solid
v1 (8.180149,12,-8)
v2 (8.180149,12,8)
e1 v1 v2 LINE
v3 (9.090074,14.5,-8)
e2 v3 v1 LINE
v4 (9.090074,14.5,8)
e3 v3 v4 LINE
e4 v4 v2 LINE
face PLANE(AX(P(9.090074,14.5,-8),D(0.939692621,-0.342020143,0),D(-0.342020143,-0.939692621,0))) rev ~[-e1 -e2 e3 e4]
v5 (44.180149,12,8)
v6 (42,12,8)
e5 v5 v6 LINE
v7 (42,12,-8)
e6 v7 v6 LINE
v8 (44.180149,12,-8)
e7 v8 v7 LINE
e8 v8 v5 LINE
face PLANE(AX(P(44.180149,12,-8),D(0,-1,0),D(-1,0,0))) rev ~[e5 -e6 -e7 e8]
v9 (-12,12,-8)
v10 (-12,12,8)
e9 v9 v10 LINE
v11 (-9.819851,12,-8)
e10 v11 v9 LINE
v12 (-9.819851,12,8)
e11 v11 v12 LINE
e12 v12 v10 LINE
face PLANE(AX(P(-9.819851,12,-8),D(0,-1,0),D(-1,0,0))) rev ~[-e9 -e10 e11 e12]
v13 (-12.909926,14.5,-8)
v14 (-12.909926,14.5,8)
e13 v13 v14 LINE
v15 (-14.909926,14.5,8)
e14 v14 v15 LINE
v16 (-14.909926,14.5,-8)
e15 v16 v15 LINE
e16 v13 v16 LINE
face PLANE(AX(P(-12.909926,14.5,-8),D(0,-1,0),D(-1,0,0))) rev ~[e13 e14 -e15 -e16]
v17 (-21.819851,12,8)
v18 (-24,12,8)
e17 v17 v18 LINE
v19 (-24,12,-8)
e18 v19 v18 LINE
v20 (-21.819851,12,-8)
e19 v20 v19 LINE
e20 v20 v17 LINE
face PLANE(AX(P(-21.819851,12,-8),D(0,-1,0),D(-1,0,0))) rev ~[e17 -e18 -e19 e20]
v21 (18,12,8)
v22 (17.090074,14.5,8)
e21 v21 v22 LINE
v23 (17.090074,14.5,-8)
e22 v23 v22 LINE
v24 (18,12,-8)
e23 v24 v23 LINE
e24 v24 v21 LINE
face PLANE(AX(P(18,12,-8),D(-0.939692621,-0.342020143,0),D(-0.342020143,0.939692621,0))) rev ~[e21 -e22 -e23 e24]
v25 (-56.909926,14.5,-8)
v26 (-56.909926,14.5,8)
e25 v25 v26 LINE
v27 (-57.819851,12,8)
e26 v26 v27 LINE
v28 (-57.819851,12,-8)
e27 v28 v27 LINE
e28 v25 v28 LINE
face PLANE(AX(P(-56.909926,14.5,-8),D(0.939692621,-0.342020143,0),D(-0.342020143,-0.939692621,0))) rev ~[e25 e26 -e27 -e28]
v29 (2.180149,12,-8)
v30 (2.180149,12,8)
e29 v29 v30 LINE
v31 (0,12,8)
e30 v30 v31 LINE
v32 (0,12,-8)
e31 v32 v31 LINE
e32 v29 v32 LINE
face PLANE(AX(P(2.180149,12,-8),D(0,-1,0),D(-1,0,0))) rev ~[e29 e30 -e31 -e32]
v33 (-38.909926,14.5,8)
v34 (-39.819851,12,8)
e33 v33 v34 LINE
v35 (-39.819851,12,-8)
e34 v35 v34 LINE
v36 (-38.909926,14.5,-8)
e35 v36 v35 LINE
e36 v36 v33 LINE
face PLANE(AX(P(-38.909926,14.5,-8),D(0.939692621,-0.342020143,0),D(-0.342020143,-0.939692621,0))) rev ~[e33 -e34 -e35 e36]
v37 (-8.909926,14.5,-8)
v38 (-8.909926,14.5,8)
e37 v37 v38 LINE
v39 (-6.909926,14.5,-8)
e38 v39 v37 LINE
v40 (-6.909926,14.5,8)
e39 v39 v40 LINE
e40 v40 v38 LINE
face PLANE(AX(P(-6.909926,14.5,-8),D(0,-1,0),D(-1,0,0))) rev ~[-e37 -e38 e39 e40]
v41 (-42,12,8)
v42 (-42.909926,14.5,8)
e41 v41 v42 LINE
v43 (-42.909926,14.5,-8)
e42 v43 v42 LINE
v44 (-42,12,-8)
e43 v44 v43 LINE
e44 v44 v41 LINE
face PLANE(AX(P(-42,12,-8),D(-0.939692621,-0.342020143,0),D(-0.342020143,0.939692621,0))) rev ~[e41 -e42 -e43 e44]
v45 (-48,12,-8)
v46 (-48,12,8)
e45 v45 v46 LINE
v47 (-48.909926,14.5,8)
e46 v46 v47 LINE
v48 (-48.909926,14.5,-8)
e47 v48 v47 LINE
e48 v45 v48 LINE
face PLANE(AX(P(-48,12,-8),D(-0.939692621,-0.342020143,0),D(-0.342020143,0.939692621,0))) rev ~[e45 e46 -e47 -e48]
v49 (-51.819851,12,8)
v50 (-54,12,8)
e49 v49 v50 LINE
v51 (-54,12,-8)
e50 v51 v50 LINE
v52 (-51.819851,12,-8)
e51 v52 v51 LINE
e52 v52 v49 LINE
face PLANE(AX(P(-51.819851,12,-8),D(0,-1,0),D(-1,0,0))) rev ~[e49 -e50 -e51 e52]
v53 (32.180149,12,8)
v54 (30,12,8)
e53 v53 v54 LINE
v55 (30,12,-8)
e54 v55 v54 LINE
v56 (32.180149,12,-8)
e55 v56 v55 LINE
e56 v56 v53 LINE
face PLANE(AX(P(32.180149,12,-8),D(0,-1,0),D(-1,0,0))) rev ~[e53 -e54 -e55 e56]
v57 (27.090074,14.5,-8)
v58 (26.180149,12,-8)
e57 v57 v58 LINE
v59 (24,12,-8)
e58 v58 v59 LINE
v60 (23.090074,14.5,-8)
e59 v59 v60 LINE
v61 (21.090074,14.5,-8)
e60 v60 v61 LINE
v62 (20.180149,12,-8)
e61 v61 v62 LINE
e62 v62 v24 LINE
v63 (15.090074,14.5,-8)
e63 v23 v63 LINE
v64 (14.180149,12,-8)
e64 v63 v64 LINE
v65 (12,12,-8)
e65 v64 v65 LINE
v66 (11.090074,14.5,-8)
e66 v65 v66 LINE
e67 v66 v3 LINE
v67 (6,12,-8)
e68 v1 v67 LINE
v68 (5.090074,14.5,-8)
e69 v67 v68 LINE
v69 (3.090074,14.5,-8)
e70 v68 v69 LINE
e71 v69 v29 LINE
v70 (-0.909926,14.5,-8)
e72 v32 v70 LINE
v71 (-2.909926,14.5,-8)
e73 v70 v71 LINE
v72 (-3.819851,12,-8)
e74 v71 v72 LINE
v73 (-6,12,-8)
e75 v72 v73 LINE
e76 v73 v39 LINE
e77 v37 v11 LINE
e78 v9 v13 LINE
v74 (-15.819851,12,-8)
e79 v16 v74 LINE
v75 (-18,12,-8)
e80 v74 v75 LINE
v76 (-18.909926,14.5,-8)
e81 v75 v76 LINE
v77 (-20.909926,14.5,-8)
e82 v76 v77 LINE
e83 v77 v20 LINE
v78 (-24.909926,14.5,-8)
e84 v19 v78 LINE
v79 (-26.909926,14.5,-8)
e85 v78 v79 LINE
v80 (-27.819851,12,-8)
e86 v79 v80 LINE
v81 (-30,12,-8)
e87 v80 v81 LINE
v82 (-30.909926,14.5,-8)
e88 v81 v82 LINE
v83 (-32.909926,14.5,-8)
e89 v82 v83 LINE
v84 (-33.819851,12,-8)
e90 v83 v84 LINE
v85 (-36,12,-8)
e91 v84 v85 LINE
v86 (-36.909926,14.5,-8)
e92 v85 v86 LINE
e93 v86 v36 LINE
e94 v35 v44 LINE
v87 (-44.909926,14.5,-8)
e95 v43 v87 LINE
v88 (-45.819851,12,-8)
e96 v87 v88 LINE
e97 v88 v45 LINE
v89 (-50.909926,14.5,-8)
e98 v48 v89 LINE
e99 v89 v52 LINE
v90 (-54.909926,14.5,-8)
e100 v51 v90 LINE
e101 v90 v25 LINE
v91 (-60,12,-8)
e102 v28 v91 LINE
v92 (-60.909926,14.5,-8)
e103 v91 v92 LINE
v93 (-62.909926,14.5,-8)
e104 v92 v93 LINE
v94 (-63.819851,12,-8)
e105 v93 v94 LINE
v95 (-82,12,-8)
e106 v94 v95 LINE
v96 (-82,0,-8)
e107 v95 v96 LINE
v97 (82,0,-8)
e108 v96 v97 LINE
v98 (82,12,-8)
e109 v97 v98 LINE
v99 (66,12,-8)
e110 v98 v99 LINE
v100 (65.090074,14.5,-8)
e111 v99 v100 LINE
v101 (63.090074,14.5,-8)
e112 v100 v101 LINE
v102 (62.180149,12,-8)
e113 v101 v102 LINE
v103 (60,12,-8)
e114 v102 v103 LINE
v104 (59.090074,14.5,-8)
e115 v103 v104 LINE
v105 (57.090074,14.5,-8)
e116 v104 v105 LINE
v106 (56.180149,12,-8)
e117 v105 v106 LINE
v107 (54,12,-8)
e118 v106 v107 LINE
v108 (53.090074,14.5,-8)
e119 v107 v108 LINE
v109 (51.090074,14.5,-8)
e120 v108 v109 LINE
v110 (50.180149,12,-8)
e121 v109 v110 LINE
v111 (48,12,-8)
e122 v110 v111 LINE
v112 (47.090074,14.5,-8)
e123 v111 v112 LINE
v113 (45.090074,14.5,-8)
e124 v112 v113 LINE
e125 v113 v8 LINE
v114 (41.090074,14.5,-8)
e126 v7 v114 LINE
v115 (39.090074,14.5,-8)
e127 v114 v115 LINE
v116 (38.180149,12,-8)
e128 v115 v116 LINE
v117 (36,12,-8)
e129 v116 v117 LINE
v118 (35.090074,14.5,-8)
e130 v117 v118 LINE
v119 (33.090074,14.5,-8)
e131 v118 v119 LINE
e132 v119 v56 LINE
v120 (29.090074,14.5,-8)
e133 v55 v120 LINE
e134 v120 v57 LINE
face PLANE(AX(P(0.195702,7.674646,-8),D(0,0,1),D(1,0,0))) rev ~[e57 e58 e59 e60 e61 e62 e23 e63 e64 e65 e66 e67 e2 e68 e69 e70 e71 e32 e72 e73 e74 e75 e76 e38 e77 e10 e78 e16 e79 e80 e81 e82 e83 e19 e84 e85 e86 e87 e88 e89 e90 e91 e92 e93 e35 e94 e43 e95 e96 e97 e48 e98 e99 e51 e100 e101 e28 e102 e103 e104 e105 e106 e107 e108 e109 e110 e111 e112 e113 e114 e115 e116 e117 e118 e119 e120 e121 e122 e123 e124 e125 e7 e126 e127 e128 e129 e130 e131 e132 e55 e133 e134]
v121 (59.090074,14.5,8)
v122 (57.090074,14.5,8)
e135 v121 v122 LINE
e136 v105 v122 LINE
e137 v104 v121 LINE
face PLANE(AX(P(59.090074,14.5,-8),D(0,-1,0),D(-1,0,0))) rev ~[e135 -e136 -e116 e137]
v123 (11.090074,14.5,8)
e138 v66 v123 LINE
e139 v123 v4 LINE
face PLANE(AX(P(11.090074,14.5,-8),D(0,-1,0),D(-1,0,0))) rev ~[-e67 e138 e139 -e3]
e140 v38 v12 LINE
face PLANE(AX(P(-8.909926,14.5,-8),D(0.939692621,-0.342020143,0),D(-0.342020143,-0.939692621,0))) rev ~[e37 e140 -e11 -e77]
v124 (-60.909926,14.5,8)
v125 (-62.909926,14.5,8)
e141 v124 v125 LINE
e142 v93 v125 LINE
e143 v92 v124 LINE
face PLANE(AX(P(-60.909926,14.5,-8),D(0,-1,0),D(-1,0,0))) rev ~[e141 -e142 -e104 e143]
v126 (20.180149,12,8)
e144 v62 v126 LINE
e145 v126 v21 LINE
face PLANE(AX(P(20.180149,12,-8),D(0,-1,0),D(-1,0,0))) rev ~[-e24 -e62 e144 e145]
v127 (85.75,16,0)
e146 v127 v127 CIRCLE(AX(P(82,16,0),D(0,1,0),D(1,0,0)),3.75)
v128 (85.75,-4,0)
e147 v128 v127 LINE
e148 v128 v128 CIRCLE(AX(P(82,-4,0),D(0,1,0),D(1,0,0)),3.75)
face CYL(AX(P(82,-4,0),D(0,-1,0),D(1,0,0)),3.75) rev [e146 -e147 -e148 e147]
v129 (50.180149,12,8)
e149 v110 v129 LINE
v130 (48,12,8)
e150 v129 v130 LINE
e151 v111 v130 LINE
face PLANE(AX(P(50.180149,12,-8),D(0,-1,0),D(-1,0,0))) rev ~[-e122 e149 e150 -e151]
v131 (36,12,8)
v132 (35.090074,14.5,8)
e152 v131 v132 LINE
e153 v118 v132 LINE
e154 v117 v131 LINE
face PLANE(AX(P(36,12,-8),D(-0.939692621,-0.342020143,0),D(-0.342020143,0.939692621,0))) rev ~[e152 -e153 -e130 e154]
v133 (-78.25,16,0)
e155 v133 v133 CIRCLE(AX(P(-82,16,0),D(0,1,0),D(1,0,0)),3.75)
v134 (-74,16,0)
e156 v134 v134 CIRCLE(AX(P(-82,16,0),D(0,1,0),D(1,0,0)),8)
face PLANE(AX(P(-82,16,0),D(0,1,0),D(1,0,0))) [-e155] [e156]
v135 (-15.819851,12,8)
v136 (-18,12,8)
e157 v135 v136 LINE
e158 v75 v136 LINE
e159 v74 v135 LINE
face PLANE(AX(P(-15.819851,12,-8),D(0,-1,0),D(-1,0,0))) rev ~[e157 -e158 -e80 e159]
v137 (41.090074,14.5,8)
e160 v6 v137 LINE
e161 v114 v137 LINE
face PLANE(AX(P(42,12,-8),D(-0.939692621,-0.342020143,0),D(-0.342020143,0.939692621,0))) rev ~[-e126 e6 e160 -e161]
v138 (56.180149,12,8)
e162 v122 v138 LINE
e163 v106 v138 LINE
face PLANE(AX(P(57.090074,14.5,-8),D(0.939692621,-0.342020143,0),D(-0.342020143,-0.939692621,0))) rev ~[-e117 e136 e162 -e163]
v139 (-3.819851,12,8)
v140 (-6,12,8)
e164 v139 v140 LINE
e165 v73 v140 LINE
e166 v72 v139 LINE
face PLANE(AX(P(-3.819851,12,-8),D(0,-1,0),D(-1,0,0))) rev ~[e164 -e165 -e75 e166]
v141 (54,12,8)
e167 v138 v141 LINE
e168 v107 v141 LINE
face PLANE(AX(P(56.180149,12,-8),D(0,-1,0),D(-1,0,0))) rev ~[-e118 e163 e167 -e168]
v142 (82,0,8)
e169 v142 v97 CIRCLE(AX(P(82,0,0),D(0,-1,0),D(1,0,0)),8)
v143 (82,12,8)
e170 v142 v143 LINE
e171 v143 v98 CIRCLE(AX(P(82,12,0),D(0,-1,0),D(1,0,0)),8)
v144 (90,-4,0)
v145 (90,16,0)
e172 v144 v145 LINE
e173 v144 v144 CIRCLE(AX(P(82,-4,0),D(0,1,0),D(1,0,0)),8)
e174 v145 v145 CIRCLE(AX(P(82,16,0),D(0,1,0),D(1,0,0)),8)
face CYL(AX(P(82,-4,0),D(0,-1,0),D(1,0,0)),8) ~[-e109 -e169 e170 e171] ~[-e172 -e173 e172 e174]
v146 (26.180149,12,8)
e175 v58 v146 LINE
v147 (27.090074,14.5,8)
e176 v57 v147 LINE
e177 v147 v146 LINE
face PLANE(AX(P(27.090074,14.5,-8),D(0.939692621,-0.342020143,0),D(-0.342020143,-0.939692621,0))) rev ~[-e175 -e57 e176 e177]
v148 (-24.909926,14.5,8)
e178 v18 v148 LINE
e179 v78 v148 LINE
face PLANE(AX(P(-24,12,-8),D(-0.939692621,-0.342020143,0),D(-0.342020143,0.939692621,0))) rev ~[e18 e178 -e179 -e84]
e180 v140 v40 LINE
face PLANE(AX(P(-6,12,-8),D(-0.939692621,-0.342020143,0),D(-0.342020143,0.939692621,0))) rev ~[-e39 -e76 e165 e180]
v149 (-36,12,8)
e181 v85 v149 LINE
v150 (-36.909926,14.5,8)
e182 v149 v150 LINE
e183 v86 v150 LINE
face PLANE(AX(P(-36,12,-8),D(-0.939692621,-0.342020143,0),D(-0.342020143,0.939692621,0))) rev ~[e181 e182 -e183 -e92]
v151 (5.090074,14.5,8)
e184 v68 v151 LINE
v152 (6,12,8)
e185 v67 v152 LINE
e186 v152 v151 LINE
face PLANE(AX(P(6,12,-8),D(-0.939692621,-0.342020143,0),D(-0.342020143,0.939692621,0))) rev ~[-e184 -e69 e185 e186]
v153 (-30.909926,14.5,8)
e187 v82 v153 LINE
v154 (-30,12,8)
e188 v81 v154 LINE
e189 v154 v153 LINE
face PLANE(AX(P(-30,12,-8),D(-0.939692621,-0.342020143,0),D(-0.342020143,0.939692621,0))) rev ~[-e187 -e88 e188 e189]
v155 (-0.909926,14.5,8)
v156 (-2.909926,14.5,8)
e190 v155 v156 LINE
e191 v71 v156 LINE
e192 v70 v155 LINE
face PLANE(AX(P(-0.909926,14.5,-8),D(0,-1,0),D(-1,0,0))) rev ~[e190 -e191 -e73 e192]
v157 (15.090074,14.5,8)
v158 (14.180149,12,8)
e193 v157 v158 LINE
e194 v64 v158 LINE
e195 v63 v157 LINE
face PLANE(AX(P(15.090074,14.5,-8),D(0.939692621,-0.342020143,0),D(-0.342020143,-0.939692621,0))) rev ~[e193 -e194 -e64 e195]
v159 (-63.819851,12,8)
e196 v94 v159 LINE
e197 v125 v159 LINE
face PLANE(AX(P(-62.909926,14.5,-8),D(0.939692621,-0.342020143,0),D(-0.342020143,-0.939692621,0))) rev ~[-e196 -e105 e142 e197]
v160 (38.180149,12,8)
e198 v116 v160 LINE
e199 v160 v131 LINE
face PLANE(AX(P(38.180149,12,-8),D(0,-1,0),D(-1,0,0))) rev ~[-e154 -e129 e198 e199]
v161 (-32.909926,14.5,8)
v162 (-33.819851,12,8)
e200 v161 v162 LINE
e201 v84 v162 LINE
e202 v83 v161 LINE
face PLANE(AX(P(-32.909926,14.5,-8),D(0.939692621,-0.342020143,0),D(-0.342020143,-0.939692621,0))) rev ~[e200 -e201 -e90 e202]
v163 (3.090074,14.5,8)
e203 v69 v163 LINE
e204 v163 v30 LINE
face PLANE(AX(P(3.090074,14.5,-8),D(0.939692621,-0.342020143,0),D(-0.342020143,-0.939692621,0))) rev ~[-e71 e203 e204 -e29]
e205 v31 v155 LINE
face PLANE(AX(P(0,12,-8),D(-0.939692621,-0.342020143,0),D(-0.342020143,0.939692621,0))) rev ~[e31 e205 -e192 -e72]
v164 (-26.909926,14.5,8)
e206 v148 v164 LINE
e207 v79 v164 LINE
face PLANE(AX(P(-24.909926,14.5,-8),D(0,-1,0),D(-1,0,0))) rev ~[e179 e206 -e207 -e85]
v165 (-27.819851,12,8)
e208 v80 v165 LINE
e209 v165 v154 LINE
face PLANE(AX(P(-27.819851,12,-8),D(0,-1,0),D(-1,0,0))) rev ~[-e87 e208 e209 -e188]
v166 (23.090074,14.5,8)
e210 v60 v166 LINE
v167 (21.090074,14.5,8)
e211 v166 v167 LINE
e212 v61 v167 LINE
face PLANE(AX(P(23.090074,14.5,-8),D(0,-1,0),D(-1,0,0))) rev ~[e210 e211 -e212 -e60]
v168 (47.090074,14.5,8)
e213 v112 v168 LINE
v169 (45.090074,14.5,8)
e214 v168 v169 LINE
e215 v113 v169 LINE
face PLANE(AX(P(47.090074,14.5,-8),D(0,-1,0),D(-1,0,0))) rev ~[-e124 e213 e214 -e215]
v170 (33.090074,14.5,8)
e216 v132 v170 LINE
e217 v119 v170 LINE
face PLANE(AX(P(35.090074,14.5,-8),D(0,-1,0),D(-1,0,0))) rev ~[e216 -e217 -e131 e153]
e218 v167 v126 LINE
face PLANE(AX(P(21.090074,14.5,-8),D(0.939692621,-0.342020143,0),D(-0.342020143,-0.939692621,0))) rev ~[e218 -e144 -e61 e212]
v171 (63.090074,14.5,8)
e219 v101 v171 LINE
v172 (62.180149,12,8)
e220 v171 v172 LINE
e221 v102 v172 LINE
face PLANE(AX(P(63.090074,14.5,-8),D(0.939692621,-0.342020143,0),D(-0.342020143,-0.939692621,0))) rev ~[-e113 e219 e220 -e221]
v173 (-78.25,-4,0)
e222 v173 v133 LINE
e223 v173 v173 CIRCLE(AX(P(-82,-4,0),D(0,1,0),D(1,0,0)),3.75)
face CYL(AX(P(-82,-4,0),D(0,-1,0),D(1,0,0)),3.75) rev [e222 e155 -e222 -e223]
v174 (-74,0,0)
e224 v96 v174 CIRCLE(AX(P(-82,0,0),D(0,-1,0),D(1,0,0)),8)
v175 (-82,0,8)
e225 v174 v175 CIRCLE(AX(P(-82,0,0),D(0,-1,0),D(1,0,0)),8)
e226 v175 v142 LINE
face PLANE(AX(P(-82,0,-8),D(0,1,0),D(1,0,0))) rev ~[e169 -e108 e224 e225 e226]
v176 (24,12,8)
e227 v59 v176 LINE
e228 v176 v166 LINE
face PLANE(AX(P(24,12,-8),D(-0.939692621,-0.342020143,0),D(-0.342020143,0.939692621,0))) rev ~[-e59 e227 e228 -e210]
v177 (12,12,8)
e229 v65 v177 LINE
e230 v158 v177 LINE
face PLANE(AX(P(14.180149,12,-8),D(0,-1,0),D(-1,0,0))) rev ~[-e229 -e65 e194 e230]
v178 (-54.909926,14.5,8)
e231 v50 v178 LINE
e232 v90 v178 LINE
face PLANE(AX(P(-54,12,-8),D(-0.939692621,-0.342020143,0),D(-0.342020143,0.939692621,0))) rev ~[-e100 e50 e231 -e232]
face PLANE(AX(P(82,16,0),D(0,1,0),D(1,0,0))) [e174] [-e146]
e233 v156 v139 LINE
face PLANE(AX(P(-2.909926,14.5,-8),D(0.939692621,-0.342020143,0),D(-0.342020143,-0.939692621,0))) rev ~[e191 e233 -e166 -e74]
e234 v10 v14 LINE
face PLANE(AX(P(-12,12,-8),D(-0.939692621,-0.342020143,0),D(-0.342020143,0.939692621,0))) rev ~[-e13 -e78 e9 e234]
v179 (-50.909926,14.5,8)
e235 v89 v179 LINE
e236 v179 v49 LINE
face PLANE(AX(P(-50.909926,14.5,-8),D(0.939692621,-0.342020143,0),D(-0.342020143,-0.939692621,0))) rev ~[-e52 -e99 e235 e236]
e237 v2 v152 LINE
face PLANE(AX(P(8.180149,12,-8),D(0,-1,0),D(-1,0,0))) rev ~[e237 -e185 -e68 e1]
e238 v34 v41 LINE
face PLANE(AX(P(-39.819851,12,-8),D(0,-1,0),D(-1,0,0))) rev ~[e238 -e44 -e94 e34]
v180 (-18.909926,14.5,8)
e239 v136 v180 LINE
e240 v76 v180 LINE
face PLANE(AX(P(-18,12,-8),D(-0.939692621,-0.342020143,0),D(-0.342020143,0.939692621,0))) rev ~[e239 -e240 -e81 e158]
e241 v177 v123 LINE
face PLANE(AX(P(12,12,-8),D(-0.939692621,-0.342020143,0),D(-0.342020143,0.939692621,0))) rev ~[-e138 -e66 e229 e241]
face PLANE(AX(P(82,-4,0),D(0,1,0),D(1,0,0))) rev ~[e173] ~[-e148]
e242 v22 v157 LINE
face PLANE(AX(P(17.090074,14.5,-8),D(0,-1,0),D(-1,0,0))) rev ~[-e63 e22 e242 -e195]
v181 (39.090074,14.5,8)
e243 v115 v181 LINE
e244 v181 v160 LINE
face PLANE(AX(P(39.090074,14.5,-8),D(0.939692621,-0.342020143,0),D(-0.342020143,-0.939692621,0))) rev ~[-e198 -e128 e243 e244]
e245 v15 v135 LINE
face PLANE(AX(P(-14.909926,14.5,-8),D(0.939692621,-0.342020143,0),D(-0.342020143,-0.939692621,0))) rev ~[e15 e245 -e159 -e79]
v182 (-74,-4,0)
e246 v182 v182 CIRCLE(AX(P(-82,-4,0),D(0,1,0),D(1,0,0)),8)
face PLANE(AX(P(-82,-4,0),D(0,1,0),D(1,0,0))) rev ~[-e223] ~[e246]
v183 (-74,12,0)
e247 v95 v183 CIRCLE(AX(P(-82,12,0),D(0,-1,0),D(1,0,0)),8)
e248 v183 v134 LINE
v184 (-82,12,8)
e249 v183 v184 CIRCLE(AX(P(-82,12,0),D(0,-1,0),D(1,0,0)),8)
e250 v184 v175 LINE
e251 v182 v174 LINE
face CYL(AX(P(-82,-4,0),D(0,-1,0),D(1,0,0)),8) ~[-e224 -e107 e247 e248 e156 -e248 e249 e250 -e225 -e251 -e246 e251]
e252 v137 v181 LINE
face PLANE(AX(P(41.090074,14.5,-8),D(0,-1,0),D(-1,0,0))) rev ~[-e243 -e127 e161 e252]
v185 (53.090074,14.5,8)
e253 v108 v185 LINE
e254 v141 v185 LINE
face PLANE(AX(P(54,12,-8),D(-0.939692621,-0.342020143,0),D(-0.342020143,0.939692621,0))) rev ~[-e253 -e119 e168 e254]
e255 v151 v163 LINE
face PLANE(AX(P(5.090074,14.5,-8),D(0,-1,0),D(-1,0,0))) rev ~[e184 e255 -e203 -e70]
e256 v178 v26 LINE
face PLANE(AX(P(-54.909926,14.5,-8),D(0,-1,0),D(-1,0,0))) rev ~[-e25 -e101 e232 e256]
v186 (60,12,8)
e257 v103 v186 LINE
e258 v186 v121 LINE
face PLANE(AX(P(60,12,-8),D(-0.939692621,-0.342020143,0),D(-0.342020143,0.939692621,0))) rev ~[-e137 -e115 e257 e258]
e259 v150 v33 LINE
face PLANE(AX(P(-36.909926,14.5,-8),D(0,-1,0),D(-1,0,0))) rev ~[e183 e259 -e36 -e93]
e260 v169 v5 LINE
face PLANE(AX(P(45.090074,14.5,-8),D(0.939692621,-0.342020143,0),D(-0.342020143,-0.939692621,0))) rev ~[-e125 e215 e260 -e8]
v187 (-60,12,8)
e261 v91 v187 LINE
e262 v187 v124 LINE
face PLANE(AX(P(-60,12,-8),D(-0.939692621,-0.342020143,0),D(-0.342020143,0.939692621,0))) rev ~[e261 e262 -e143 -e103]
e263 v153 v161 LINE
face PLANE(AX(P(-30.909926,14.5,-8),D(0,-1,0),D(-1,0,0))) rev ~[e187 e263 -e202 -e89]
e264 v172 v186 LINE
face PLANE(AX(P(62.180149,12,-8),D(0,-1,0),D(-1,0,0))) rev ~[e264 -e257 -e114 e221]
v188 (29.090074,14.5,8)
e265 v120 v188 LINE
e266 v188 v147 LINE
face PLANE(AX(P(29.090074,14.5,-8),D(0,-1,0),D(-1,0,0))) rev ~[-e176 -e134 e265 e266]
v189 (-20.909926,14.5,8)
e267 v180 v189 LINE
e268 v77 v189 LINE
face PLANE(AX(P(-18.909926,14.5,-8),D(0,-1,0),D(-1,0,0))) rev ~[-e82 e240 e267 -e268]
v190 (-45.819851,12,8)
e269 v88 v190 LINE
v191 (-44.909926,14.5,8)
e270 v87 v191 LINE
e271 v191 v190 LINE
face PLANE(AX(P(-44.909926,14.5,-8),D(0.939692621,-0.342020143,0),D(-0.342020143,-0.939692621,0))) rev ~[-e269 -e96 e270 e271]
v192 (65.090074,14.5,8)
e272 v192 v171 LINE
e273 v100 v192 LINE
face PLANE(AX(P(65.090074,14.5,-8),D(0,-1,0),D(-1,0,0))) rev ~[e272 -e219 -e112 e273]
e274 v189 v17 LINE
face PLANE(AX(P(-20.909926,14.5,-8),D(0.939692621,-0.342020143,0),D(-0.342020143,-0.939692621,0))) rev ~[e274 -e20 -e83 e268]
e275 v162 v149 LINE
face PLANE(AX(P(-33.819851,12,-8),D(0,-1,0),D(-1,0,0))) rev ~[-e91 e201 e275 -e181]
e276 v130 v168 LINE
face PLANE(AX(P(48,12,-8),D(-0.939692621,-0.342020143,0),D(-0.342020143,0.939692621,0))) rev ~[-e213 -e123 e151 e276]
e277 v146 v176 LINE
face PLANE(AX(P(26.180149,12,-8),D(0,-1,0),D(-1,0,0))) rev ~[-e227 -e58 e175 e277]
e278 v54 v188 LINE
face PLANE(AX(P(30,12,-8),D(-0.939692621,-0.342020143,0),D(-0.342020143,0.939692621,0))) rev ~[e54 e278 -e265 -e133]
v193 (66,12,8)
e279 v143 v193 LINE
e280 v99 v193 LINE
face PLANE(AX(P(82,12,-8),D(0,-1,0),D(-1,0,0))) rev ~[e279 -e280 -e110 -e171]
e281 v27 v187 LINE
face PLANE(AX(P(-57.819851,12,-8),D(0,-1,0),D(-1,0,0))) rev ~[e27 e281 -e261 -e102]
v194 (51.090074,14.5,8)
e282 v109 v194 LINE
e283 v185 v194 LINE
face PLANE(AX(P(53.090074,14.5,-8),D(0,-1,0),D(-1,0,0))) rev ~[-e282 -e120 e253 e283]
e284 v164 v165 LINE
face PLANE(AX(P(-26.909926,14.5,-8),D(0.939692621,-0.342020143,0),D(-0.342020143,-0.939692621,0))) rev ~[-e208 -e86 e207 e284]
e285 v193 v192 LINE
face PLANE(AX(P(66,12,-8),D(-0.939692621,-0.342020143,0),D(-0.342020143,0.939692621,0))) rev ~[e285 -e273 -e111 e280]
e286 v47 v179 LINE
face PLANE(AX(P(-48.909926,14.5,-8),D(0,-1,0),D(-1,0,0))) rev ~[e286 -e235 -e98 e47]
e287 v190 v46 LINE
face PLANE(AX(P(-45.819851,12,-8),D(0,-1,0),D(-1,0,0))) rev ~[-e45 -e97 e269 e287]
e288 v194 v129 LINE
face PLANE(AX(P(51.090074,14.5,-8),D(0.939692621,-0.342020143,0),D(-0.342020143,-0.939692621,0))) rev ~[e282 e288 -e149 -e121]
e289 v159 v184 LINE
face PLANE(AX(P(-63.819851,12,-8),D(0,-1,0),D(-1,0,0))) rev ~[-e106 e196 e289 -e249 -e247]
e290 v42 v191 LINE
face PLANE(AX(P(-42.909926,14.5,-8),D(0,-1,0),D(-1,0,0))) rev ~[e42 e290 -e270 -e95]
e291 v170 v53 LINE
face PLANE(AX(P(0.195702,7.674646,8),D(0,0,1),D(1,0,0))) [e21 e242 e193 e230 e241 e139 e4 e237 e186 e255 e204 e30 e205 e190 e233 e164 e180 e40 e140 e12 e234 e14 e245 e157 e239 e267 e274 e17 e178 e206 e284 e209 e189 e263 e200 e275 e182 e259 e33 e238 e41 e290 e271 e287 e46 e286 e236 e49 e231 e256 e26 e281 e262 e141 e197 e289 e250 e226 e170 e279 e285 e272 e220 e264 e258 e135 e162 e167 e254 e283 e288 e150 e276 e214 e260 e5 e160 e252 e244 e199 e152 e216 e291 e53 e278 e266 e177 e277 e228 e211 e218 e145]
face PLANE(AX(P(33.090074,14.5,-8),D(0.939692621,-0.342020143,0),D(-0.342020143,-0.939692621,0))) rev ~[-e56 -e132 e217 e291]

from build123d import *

# Parameters (mm, degrees)
BOSS_EXTRUDE1_DEPTH      = 8
BOSS_EXTRUDE1_DEPTH_BACK = 8
BOSS_EXTRUDE2_DEPTH      = 4
BOSS_EXTRUDE2_DEPTH_BACK = 16
SKETCH2_R                = 8
SKETCH2_R_2              = 3.75
SKETCH2_2_R              = 3.75
CUT_EXTRUDE1_DEPTH       = 16


with BuildPart() as part:
    # Sketch1 → Boss-Extrude1 (new, two sides: drawn at the far end of the back side and taken through both)
    with BuildSketch(Plane.XY.offset(-BOSS_EXTRUDE1_DEPTH_BACK)):
        Polygon((-82, 12), (-82, 0), (82, 0), (82, 12), (66, 12), (65.090074414, 14.5), (63.090074414, 14.5), (62.180148829, 12), (60, 12), (59.090074414, 14.5), (57.090074414, 14.5), (56.180148829, 12), (54, 12), (53.090074414, 14.5), (51.090074414, 14.5), (50.180148829, 12), (48, 12), (47.090074414, 14.5), (45.090074414, 14.5), (44.180148829, 12), (42, 12), (41.090074414, 14.5), (39.090074414, 14.5), (38.180148829, 12), (36, 12), (35.090074414, 14.5), (33.090074414, 14.5), (32.180148829, 12), (30, 12), (29.090074414, 14.5), (27.090074414, 14.5), (26.180148829, 12), (24, 12), (23.090074414, 14.5), (21.090074414, 14.5), (20.180148829, 12), (18, 12), (17.090074414, 14.5), (15.090074414, 14.5), (14.180148829, 12), (12, 12), (11.090074414, 14.5), (9.090074414, 14.5), (8.180148829, 12), (6, 12), (5.090074414, 14.5), (3.090074414, 14.5), (2.180148829, 12), (0, 12), (-0.909925586, 14.5), (-2.909925586, 14.5), (-3.819851171, 12), (-6, 12), (-6.909925586, 14.5), (-8.909925586, 14.5), (-9.819851171, 12), (-12, 12), (-12.909925586, 14.5), (-14.909925586, 14.5), (-15.819851171, 12), (-18, 12), (-18.909925586, 14.5), (-20.909925586, 14.5), (-21.819851171, 12), (-24, 12), (-24.909925586, 14.5), (-26.909925586, 14.5), (-27.819851171, 12), (-30, 12), (-30.909925586, 14.5), (-32.909925586, 14.5), (-33.819851171, 12), (-36, 12), (-36.909925586, 14.5), (-38.909925586, 14.5), (-39.819851171, 12), (-42, 12), (-42.909925586, 14.5), (-44.909925586, 14.5), (-45.819851171, 12), (-48, 12), (-48.909925586, 14.5), (-50.909925586, 14.5), (-51.819851171, 12), (-54, 12), (-54.909925586, 14.5), (-56.909925586, 14.5), (-57.819851171, 12), (-60, 12), (-60.909925586, 14.5), (-62.909925586, 14.5), (-63.819851171, 12), (-66, 12), align=None)
    extrude(amount=BOSS_EXTRUDE1_DEPTH + BOSS_EXTRUDE1_DEPTH_BACK)

    # Sketch2 → Boss-Extrude2 (add, two sides: drawn at the far end of the back side and taken through both)
    # profile 1 of 2: a face of its own
    with BuildSketch(Plane(origin=(0, 12, 0), x_dir=(1, 0, 0), z_dir=(0, 1, 0)).offset(-BOSS_EXTRUDE2_DEPTH_BACK)):
        with Locations((82, 0)):
            Circle(SKETCH2_R)
        with Locations((82, 0)):
            Circle(SKETCH2_R_2, mode=Mode.SUBTRACT)
    # profile 2 of 2: a face of its own
    with BuildSketch(Plane(origin=(0, 12, 0), x_dir=(1, 0, 0), z_dir=(0, 1, 0)).offset(-BOSS_EXTRUDE2_DEPTH_BACK)):
        with Locations((-82, 0)):
            Circle(SKETCH2_R)
        with Locations((-82, 0)):
            Circle(SKETCH2_R_2, mode=Mode.SUBTRACT)
    extrude(amount=BOSS_EXTRUDE2_DEPTH + BOSS_EXTRUDE2_DEPTH_BACK)

    # Sketch2<2> → Cut-Extrude1 (cut)
    with BuildSketch(Plane(origin=(0, 12, 0), x_dir=(1, 0, 0), z_dir=(0, 1, 0))):
        with Locations((82, 0)):
            Circle(SKETCH2_2_R)
        with Locations((-82, 0)):
            Circle(SKETCH2_2_R)
    extrude(amount=-CUT_EXTRUDE1_DEPTH, mode=Mode.SUBTRACT)


solid = part.part
